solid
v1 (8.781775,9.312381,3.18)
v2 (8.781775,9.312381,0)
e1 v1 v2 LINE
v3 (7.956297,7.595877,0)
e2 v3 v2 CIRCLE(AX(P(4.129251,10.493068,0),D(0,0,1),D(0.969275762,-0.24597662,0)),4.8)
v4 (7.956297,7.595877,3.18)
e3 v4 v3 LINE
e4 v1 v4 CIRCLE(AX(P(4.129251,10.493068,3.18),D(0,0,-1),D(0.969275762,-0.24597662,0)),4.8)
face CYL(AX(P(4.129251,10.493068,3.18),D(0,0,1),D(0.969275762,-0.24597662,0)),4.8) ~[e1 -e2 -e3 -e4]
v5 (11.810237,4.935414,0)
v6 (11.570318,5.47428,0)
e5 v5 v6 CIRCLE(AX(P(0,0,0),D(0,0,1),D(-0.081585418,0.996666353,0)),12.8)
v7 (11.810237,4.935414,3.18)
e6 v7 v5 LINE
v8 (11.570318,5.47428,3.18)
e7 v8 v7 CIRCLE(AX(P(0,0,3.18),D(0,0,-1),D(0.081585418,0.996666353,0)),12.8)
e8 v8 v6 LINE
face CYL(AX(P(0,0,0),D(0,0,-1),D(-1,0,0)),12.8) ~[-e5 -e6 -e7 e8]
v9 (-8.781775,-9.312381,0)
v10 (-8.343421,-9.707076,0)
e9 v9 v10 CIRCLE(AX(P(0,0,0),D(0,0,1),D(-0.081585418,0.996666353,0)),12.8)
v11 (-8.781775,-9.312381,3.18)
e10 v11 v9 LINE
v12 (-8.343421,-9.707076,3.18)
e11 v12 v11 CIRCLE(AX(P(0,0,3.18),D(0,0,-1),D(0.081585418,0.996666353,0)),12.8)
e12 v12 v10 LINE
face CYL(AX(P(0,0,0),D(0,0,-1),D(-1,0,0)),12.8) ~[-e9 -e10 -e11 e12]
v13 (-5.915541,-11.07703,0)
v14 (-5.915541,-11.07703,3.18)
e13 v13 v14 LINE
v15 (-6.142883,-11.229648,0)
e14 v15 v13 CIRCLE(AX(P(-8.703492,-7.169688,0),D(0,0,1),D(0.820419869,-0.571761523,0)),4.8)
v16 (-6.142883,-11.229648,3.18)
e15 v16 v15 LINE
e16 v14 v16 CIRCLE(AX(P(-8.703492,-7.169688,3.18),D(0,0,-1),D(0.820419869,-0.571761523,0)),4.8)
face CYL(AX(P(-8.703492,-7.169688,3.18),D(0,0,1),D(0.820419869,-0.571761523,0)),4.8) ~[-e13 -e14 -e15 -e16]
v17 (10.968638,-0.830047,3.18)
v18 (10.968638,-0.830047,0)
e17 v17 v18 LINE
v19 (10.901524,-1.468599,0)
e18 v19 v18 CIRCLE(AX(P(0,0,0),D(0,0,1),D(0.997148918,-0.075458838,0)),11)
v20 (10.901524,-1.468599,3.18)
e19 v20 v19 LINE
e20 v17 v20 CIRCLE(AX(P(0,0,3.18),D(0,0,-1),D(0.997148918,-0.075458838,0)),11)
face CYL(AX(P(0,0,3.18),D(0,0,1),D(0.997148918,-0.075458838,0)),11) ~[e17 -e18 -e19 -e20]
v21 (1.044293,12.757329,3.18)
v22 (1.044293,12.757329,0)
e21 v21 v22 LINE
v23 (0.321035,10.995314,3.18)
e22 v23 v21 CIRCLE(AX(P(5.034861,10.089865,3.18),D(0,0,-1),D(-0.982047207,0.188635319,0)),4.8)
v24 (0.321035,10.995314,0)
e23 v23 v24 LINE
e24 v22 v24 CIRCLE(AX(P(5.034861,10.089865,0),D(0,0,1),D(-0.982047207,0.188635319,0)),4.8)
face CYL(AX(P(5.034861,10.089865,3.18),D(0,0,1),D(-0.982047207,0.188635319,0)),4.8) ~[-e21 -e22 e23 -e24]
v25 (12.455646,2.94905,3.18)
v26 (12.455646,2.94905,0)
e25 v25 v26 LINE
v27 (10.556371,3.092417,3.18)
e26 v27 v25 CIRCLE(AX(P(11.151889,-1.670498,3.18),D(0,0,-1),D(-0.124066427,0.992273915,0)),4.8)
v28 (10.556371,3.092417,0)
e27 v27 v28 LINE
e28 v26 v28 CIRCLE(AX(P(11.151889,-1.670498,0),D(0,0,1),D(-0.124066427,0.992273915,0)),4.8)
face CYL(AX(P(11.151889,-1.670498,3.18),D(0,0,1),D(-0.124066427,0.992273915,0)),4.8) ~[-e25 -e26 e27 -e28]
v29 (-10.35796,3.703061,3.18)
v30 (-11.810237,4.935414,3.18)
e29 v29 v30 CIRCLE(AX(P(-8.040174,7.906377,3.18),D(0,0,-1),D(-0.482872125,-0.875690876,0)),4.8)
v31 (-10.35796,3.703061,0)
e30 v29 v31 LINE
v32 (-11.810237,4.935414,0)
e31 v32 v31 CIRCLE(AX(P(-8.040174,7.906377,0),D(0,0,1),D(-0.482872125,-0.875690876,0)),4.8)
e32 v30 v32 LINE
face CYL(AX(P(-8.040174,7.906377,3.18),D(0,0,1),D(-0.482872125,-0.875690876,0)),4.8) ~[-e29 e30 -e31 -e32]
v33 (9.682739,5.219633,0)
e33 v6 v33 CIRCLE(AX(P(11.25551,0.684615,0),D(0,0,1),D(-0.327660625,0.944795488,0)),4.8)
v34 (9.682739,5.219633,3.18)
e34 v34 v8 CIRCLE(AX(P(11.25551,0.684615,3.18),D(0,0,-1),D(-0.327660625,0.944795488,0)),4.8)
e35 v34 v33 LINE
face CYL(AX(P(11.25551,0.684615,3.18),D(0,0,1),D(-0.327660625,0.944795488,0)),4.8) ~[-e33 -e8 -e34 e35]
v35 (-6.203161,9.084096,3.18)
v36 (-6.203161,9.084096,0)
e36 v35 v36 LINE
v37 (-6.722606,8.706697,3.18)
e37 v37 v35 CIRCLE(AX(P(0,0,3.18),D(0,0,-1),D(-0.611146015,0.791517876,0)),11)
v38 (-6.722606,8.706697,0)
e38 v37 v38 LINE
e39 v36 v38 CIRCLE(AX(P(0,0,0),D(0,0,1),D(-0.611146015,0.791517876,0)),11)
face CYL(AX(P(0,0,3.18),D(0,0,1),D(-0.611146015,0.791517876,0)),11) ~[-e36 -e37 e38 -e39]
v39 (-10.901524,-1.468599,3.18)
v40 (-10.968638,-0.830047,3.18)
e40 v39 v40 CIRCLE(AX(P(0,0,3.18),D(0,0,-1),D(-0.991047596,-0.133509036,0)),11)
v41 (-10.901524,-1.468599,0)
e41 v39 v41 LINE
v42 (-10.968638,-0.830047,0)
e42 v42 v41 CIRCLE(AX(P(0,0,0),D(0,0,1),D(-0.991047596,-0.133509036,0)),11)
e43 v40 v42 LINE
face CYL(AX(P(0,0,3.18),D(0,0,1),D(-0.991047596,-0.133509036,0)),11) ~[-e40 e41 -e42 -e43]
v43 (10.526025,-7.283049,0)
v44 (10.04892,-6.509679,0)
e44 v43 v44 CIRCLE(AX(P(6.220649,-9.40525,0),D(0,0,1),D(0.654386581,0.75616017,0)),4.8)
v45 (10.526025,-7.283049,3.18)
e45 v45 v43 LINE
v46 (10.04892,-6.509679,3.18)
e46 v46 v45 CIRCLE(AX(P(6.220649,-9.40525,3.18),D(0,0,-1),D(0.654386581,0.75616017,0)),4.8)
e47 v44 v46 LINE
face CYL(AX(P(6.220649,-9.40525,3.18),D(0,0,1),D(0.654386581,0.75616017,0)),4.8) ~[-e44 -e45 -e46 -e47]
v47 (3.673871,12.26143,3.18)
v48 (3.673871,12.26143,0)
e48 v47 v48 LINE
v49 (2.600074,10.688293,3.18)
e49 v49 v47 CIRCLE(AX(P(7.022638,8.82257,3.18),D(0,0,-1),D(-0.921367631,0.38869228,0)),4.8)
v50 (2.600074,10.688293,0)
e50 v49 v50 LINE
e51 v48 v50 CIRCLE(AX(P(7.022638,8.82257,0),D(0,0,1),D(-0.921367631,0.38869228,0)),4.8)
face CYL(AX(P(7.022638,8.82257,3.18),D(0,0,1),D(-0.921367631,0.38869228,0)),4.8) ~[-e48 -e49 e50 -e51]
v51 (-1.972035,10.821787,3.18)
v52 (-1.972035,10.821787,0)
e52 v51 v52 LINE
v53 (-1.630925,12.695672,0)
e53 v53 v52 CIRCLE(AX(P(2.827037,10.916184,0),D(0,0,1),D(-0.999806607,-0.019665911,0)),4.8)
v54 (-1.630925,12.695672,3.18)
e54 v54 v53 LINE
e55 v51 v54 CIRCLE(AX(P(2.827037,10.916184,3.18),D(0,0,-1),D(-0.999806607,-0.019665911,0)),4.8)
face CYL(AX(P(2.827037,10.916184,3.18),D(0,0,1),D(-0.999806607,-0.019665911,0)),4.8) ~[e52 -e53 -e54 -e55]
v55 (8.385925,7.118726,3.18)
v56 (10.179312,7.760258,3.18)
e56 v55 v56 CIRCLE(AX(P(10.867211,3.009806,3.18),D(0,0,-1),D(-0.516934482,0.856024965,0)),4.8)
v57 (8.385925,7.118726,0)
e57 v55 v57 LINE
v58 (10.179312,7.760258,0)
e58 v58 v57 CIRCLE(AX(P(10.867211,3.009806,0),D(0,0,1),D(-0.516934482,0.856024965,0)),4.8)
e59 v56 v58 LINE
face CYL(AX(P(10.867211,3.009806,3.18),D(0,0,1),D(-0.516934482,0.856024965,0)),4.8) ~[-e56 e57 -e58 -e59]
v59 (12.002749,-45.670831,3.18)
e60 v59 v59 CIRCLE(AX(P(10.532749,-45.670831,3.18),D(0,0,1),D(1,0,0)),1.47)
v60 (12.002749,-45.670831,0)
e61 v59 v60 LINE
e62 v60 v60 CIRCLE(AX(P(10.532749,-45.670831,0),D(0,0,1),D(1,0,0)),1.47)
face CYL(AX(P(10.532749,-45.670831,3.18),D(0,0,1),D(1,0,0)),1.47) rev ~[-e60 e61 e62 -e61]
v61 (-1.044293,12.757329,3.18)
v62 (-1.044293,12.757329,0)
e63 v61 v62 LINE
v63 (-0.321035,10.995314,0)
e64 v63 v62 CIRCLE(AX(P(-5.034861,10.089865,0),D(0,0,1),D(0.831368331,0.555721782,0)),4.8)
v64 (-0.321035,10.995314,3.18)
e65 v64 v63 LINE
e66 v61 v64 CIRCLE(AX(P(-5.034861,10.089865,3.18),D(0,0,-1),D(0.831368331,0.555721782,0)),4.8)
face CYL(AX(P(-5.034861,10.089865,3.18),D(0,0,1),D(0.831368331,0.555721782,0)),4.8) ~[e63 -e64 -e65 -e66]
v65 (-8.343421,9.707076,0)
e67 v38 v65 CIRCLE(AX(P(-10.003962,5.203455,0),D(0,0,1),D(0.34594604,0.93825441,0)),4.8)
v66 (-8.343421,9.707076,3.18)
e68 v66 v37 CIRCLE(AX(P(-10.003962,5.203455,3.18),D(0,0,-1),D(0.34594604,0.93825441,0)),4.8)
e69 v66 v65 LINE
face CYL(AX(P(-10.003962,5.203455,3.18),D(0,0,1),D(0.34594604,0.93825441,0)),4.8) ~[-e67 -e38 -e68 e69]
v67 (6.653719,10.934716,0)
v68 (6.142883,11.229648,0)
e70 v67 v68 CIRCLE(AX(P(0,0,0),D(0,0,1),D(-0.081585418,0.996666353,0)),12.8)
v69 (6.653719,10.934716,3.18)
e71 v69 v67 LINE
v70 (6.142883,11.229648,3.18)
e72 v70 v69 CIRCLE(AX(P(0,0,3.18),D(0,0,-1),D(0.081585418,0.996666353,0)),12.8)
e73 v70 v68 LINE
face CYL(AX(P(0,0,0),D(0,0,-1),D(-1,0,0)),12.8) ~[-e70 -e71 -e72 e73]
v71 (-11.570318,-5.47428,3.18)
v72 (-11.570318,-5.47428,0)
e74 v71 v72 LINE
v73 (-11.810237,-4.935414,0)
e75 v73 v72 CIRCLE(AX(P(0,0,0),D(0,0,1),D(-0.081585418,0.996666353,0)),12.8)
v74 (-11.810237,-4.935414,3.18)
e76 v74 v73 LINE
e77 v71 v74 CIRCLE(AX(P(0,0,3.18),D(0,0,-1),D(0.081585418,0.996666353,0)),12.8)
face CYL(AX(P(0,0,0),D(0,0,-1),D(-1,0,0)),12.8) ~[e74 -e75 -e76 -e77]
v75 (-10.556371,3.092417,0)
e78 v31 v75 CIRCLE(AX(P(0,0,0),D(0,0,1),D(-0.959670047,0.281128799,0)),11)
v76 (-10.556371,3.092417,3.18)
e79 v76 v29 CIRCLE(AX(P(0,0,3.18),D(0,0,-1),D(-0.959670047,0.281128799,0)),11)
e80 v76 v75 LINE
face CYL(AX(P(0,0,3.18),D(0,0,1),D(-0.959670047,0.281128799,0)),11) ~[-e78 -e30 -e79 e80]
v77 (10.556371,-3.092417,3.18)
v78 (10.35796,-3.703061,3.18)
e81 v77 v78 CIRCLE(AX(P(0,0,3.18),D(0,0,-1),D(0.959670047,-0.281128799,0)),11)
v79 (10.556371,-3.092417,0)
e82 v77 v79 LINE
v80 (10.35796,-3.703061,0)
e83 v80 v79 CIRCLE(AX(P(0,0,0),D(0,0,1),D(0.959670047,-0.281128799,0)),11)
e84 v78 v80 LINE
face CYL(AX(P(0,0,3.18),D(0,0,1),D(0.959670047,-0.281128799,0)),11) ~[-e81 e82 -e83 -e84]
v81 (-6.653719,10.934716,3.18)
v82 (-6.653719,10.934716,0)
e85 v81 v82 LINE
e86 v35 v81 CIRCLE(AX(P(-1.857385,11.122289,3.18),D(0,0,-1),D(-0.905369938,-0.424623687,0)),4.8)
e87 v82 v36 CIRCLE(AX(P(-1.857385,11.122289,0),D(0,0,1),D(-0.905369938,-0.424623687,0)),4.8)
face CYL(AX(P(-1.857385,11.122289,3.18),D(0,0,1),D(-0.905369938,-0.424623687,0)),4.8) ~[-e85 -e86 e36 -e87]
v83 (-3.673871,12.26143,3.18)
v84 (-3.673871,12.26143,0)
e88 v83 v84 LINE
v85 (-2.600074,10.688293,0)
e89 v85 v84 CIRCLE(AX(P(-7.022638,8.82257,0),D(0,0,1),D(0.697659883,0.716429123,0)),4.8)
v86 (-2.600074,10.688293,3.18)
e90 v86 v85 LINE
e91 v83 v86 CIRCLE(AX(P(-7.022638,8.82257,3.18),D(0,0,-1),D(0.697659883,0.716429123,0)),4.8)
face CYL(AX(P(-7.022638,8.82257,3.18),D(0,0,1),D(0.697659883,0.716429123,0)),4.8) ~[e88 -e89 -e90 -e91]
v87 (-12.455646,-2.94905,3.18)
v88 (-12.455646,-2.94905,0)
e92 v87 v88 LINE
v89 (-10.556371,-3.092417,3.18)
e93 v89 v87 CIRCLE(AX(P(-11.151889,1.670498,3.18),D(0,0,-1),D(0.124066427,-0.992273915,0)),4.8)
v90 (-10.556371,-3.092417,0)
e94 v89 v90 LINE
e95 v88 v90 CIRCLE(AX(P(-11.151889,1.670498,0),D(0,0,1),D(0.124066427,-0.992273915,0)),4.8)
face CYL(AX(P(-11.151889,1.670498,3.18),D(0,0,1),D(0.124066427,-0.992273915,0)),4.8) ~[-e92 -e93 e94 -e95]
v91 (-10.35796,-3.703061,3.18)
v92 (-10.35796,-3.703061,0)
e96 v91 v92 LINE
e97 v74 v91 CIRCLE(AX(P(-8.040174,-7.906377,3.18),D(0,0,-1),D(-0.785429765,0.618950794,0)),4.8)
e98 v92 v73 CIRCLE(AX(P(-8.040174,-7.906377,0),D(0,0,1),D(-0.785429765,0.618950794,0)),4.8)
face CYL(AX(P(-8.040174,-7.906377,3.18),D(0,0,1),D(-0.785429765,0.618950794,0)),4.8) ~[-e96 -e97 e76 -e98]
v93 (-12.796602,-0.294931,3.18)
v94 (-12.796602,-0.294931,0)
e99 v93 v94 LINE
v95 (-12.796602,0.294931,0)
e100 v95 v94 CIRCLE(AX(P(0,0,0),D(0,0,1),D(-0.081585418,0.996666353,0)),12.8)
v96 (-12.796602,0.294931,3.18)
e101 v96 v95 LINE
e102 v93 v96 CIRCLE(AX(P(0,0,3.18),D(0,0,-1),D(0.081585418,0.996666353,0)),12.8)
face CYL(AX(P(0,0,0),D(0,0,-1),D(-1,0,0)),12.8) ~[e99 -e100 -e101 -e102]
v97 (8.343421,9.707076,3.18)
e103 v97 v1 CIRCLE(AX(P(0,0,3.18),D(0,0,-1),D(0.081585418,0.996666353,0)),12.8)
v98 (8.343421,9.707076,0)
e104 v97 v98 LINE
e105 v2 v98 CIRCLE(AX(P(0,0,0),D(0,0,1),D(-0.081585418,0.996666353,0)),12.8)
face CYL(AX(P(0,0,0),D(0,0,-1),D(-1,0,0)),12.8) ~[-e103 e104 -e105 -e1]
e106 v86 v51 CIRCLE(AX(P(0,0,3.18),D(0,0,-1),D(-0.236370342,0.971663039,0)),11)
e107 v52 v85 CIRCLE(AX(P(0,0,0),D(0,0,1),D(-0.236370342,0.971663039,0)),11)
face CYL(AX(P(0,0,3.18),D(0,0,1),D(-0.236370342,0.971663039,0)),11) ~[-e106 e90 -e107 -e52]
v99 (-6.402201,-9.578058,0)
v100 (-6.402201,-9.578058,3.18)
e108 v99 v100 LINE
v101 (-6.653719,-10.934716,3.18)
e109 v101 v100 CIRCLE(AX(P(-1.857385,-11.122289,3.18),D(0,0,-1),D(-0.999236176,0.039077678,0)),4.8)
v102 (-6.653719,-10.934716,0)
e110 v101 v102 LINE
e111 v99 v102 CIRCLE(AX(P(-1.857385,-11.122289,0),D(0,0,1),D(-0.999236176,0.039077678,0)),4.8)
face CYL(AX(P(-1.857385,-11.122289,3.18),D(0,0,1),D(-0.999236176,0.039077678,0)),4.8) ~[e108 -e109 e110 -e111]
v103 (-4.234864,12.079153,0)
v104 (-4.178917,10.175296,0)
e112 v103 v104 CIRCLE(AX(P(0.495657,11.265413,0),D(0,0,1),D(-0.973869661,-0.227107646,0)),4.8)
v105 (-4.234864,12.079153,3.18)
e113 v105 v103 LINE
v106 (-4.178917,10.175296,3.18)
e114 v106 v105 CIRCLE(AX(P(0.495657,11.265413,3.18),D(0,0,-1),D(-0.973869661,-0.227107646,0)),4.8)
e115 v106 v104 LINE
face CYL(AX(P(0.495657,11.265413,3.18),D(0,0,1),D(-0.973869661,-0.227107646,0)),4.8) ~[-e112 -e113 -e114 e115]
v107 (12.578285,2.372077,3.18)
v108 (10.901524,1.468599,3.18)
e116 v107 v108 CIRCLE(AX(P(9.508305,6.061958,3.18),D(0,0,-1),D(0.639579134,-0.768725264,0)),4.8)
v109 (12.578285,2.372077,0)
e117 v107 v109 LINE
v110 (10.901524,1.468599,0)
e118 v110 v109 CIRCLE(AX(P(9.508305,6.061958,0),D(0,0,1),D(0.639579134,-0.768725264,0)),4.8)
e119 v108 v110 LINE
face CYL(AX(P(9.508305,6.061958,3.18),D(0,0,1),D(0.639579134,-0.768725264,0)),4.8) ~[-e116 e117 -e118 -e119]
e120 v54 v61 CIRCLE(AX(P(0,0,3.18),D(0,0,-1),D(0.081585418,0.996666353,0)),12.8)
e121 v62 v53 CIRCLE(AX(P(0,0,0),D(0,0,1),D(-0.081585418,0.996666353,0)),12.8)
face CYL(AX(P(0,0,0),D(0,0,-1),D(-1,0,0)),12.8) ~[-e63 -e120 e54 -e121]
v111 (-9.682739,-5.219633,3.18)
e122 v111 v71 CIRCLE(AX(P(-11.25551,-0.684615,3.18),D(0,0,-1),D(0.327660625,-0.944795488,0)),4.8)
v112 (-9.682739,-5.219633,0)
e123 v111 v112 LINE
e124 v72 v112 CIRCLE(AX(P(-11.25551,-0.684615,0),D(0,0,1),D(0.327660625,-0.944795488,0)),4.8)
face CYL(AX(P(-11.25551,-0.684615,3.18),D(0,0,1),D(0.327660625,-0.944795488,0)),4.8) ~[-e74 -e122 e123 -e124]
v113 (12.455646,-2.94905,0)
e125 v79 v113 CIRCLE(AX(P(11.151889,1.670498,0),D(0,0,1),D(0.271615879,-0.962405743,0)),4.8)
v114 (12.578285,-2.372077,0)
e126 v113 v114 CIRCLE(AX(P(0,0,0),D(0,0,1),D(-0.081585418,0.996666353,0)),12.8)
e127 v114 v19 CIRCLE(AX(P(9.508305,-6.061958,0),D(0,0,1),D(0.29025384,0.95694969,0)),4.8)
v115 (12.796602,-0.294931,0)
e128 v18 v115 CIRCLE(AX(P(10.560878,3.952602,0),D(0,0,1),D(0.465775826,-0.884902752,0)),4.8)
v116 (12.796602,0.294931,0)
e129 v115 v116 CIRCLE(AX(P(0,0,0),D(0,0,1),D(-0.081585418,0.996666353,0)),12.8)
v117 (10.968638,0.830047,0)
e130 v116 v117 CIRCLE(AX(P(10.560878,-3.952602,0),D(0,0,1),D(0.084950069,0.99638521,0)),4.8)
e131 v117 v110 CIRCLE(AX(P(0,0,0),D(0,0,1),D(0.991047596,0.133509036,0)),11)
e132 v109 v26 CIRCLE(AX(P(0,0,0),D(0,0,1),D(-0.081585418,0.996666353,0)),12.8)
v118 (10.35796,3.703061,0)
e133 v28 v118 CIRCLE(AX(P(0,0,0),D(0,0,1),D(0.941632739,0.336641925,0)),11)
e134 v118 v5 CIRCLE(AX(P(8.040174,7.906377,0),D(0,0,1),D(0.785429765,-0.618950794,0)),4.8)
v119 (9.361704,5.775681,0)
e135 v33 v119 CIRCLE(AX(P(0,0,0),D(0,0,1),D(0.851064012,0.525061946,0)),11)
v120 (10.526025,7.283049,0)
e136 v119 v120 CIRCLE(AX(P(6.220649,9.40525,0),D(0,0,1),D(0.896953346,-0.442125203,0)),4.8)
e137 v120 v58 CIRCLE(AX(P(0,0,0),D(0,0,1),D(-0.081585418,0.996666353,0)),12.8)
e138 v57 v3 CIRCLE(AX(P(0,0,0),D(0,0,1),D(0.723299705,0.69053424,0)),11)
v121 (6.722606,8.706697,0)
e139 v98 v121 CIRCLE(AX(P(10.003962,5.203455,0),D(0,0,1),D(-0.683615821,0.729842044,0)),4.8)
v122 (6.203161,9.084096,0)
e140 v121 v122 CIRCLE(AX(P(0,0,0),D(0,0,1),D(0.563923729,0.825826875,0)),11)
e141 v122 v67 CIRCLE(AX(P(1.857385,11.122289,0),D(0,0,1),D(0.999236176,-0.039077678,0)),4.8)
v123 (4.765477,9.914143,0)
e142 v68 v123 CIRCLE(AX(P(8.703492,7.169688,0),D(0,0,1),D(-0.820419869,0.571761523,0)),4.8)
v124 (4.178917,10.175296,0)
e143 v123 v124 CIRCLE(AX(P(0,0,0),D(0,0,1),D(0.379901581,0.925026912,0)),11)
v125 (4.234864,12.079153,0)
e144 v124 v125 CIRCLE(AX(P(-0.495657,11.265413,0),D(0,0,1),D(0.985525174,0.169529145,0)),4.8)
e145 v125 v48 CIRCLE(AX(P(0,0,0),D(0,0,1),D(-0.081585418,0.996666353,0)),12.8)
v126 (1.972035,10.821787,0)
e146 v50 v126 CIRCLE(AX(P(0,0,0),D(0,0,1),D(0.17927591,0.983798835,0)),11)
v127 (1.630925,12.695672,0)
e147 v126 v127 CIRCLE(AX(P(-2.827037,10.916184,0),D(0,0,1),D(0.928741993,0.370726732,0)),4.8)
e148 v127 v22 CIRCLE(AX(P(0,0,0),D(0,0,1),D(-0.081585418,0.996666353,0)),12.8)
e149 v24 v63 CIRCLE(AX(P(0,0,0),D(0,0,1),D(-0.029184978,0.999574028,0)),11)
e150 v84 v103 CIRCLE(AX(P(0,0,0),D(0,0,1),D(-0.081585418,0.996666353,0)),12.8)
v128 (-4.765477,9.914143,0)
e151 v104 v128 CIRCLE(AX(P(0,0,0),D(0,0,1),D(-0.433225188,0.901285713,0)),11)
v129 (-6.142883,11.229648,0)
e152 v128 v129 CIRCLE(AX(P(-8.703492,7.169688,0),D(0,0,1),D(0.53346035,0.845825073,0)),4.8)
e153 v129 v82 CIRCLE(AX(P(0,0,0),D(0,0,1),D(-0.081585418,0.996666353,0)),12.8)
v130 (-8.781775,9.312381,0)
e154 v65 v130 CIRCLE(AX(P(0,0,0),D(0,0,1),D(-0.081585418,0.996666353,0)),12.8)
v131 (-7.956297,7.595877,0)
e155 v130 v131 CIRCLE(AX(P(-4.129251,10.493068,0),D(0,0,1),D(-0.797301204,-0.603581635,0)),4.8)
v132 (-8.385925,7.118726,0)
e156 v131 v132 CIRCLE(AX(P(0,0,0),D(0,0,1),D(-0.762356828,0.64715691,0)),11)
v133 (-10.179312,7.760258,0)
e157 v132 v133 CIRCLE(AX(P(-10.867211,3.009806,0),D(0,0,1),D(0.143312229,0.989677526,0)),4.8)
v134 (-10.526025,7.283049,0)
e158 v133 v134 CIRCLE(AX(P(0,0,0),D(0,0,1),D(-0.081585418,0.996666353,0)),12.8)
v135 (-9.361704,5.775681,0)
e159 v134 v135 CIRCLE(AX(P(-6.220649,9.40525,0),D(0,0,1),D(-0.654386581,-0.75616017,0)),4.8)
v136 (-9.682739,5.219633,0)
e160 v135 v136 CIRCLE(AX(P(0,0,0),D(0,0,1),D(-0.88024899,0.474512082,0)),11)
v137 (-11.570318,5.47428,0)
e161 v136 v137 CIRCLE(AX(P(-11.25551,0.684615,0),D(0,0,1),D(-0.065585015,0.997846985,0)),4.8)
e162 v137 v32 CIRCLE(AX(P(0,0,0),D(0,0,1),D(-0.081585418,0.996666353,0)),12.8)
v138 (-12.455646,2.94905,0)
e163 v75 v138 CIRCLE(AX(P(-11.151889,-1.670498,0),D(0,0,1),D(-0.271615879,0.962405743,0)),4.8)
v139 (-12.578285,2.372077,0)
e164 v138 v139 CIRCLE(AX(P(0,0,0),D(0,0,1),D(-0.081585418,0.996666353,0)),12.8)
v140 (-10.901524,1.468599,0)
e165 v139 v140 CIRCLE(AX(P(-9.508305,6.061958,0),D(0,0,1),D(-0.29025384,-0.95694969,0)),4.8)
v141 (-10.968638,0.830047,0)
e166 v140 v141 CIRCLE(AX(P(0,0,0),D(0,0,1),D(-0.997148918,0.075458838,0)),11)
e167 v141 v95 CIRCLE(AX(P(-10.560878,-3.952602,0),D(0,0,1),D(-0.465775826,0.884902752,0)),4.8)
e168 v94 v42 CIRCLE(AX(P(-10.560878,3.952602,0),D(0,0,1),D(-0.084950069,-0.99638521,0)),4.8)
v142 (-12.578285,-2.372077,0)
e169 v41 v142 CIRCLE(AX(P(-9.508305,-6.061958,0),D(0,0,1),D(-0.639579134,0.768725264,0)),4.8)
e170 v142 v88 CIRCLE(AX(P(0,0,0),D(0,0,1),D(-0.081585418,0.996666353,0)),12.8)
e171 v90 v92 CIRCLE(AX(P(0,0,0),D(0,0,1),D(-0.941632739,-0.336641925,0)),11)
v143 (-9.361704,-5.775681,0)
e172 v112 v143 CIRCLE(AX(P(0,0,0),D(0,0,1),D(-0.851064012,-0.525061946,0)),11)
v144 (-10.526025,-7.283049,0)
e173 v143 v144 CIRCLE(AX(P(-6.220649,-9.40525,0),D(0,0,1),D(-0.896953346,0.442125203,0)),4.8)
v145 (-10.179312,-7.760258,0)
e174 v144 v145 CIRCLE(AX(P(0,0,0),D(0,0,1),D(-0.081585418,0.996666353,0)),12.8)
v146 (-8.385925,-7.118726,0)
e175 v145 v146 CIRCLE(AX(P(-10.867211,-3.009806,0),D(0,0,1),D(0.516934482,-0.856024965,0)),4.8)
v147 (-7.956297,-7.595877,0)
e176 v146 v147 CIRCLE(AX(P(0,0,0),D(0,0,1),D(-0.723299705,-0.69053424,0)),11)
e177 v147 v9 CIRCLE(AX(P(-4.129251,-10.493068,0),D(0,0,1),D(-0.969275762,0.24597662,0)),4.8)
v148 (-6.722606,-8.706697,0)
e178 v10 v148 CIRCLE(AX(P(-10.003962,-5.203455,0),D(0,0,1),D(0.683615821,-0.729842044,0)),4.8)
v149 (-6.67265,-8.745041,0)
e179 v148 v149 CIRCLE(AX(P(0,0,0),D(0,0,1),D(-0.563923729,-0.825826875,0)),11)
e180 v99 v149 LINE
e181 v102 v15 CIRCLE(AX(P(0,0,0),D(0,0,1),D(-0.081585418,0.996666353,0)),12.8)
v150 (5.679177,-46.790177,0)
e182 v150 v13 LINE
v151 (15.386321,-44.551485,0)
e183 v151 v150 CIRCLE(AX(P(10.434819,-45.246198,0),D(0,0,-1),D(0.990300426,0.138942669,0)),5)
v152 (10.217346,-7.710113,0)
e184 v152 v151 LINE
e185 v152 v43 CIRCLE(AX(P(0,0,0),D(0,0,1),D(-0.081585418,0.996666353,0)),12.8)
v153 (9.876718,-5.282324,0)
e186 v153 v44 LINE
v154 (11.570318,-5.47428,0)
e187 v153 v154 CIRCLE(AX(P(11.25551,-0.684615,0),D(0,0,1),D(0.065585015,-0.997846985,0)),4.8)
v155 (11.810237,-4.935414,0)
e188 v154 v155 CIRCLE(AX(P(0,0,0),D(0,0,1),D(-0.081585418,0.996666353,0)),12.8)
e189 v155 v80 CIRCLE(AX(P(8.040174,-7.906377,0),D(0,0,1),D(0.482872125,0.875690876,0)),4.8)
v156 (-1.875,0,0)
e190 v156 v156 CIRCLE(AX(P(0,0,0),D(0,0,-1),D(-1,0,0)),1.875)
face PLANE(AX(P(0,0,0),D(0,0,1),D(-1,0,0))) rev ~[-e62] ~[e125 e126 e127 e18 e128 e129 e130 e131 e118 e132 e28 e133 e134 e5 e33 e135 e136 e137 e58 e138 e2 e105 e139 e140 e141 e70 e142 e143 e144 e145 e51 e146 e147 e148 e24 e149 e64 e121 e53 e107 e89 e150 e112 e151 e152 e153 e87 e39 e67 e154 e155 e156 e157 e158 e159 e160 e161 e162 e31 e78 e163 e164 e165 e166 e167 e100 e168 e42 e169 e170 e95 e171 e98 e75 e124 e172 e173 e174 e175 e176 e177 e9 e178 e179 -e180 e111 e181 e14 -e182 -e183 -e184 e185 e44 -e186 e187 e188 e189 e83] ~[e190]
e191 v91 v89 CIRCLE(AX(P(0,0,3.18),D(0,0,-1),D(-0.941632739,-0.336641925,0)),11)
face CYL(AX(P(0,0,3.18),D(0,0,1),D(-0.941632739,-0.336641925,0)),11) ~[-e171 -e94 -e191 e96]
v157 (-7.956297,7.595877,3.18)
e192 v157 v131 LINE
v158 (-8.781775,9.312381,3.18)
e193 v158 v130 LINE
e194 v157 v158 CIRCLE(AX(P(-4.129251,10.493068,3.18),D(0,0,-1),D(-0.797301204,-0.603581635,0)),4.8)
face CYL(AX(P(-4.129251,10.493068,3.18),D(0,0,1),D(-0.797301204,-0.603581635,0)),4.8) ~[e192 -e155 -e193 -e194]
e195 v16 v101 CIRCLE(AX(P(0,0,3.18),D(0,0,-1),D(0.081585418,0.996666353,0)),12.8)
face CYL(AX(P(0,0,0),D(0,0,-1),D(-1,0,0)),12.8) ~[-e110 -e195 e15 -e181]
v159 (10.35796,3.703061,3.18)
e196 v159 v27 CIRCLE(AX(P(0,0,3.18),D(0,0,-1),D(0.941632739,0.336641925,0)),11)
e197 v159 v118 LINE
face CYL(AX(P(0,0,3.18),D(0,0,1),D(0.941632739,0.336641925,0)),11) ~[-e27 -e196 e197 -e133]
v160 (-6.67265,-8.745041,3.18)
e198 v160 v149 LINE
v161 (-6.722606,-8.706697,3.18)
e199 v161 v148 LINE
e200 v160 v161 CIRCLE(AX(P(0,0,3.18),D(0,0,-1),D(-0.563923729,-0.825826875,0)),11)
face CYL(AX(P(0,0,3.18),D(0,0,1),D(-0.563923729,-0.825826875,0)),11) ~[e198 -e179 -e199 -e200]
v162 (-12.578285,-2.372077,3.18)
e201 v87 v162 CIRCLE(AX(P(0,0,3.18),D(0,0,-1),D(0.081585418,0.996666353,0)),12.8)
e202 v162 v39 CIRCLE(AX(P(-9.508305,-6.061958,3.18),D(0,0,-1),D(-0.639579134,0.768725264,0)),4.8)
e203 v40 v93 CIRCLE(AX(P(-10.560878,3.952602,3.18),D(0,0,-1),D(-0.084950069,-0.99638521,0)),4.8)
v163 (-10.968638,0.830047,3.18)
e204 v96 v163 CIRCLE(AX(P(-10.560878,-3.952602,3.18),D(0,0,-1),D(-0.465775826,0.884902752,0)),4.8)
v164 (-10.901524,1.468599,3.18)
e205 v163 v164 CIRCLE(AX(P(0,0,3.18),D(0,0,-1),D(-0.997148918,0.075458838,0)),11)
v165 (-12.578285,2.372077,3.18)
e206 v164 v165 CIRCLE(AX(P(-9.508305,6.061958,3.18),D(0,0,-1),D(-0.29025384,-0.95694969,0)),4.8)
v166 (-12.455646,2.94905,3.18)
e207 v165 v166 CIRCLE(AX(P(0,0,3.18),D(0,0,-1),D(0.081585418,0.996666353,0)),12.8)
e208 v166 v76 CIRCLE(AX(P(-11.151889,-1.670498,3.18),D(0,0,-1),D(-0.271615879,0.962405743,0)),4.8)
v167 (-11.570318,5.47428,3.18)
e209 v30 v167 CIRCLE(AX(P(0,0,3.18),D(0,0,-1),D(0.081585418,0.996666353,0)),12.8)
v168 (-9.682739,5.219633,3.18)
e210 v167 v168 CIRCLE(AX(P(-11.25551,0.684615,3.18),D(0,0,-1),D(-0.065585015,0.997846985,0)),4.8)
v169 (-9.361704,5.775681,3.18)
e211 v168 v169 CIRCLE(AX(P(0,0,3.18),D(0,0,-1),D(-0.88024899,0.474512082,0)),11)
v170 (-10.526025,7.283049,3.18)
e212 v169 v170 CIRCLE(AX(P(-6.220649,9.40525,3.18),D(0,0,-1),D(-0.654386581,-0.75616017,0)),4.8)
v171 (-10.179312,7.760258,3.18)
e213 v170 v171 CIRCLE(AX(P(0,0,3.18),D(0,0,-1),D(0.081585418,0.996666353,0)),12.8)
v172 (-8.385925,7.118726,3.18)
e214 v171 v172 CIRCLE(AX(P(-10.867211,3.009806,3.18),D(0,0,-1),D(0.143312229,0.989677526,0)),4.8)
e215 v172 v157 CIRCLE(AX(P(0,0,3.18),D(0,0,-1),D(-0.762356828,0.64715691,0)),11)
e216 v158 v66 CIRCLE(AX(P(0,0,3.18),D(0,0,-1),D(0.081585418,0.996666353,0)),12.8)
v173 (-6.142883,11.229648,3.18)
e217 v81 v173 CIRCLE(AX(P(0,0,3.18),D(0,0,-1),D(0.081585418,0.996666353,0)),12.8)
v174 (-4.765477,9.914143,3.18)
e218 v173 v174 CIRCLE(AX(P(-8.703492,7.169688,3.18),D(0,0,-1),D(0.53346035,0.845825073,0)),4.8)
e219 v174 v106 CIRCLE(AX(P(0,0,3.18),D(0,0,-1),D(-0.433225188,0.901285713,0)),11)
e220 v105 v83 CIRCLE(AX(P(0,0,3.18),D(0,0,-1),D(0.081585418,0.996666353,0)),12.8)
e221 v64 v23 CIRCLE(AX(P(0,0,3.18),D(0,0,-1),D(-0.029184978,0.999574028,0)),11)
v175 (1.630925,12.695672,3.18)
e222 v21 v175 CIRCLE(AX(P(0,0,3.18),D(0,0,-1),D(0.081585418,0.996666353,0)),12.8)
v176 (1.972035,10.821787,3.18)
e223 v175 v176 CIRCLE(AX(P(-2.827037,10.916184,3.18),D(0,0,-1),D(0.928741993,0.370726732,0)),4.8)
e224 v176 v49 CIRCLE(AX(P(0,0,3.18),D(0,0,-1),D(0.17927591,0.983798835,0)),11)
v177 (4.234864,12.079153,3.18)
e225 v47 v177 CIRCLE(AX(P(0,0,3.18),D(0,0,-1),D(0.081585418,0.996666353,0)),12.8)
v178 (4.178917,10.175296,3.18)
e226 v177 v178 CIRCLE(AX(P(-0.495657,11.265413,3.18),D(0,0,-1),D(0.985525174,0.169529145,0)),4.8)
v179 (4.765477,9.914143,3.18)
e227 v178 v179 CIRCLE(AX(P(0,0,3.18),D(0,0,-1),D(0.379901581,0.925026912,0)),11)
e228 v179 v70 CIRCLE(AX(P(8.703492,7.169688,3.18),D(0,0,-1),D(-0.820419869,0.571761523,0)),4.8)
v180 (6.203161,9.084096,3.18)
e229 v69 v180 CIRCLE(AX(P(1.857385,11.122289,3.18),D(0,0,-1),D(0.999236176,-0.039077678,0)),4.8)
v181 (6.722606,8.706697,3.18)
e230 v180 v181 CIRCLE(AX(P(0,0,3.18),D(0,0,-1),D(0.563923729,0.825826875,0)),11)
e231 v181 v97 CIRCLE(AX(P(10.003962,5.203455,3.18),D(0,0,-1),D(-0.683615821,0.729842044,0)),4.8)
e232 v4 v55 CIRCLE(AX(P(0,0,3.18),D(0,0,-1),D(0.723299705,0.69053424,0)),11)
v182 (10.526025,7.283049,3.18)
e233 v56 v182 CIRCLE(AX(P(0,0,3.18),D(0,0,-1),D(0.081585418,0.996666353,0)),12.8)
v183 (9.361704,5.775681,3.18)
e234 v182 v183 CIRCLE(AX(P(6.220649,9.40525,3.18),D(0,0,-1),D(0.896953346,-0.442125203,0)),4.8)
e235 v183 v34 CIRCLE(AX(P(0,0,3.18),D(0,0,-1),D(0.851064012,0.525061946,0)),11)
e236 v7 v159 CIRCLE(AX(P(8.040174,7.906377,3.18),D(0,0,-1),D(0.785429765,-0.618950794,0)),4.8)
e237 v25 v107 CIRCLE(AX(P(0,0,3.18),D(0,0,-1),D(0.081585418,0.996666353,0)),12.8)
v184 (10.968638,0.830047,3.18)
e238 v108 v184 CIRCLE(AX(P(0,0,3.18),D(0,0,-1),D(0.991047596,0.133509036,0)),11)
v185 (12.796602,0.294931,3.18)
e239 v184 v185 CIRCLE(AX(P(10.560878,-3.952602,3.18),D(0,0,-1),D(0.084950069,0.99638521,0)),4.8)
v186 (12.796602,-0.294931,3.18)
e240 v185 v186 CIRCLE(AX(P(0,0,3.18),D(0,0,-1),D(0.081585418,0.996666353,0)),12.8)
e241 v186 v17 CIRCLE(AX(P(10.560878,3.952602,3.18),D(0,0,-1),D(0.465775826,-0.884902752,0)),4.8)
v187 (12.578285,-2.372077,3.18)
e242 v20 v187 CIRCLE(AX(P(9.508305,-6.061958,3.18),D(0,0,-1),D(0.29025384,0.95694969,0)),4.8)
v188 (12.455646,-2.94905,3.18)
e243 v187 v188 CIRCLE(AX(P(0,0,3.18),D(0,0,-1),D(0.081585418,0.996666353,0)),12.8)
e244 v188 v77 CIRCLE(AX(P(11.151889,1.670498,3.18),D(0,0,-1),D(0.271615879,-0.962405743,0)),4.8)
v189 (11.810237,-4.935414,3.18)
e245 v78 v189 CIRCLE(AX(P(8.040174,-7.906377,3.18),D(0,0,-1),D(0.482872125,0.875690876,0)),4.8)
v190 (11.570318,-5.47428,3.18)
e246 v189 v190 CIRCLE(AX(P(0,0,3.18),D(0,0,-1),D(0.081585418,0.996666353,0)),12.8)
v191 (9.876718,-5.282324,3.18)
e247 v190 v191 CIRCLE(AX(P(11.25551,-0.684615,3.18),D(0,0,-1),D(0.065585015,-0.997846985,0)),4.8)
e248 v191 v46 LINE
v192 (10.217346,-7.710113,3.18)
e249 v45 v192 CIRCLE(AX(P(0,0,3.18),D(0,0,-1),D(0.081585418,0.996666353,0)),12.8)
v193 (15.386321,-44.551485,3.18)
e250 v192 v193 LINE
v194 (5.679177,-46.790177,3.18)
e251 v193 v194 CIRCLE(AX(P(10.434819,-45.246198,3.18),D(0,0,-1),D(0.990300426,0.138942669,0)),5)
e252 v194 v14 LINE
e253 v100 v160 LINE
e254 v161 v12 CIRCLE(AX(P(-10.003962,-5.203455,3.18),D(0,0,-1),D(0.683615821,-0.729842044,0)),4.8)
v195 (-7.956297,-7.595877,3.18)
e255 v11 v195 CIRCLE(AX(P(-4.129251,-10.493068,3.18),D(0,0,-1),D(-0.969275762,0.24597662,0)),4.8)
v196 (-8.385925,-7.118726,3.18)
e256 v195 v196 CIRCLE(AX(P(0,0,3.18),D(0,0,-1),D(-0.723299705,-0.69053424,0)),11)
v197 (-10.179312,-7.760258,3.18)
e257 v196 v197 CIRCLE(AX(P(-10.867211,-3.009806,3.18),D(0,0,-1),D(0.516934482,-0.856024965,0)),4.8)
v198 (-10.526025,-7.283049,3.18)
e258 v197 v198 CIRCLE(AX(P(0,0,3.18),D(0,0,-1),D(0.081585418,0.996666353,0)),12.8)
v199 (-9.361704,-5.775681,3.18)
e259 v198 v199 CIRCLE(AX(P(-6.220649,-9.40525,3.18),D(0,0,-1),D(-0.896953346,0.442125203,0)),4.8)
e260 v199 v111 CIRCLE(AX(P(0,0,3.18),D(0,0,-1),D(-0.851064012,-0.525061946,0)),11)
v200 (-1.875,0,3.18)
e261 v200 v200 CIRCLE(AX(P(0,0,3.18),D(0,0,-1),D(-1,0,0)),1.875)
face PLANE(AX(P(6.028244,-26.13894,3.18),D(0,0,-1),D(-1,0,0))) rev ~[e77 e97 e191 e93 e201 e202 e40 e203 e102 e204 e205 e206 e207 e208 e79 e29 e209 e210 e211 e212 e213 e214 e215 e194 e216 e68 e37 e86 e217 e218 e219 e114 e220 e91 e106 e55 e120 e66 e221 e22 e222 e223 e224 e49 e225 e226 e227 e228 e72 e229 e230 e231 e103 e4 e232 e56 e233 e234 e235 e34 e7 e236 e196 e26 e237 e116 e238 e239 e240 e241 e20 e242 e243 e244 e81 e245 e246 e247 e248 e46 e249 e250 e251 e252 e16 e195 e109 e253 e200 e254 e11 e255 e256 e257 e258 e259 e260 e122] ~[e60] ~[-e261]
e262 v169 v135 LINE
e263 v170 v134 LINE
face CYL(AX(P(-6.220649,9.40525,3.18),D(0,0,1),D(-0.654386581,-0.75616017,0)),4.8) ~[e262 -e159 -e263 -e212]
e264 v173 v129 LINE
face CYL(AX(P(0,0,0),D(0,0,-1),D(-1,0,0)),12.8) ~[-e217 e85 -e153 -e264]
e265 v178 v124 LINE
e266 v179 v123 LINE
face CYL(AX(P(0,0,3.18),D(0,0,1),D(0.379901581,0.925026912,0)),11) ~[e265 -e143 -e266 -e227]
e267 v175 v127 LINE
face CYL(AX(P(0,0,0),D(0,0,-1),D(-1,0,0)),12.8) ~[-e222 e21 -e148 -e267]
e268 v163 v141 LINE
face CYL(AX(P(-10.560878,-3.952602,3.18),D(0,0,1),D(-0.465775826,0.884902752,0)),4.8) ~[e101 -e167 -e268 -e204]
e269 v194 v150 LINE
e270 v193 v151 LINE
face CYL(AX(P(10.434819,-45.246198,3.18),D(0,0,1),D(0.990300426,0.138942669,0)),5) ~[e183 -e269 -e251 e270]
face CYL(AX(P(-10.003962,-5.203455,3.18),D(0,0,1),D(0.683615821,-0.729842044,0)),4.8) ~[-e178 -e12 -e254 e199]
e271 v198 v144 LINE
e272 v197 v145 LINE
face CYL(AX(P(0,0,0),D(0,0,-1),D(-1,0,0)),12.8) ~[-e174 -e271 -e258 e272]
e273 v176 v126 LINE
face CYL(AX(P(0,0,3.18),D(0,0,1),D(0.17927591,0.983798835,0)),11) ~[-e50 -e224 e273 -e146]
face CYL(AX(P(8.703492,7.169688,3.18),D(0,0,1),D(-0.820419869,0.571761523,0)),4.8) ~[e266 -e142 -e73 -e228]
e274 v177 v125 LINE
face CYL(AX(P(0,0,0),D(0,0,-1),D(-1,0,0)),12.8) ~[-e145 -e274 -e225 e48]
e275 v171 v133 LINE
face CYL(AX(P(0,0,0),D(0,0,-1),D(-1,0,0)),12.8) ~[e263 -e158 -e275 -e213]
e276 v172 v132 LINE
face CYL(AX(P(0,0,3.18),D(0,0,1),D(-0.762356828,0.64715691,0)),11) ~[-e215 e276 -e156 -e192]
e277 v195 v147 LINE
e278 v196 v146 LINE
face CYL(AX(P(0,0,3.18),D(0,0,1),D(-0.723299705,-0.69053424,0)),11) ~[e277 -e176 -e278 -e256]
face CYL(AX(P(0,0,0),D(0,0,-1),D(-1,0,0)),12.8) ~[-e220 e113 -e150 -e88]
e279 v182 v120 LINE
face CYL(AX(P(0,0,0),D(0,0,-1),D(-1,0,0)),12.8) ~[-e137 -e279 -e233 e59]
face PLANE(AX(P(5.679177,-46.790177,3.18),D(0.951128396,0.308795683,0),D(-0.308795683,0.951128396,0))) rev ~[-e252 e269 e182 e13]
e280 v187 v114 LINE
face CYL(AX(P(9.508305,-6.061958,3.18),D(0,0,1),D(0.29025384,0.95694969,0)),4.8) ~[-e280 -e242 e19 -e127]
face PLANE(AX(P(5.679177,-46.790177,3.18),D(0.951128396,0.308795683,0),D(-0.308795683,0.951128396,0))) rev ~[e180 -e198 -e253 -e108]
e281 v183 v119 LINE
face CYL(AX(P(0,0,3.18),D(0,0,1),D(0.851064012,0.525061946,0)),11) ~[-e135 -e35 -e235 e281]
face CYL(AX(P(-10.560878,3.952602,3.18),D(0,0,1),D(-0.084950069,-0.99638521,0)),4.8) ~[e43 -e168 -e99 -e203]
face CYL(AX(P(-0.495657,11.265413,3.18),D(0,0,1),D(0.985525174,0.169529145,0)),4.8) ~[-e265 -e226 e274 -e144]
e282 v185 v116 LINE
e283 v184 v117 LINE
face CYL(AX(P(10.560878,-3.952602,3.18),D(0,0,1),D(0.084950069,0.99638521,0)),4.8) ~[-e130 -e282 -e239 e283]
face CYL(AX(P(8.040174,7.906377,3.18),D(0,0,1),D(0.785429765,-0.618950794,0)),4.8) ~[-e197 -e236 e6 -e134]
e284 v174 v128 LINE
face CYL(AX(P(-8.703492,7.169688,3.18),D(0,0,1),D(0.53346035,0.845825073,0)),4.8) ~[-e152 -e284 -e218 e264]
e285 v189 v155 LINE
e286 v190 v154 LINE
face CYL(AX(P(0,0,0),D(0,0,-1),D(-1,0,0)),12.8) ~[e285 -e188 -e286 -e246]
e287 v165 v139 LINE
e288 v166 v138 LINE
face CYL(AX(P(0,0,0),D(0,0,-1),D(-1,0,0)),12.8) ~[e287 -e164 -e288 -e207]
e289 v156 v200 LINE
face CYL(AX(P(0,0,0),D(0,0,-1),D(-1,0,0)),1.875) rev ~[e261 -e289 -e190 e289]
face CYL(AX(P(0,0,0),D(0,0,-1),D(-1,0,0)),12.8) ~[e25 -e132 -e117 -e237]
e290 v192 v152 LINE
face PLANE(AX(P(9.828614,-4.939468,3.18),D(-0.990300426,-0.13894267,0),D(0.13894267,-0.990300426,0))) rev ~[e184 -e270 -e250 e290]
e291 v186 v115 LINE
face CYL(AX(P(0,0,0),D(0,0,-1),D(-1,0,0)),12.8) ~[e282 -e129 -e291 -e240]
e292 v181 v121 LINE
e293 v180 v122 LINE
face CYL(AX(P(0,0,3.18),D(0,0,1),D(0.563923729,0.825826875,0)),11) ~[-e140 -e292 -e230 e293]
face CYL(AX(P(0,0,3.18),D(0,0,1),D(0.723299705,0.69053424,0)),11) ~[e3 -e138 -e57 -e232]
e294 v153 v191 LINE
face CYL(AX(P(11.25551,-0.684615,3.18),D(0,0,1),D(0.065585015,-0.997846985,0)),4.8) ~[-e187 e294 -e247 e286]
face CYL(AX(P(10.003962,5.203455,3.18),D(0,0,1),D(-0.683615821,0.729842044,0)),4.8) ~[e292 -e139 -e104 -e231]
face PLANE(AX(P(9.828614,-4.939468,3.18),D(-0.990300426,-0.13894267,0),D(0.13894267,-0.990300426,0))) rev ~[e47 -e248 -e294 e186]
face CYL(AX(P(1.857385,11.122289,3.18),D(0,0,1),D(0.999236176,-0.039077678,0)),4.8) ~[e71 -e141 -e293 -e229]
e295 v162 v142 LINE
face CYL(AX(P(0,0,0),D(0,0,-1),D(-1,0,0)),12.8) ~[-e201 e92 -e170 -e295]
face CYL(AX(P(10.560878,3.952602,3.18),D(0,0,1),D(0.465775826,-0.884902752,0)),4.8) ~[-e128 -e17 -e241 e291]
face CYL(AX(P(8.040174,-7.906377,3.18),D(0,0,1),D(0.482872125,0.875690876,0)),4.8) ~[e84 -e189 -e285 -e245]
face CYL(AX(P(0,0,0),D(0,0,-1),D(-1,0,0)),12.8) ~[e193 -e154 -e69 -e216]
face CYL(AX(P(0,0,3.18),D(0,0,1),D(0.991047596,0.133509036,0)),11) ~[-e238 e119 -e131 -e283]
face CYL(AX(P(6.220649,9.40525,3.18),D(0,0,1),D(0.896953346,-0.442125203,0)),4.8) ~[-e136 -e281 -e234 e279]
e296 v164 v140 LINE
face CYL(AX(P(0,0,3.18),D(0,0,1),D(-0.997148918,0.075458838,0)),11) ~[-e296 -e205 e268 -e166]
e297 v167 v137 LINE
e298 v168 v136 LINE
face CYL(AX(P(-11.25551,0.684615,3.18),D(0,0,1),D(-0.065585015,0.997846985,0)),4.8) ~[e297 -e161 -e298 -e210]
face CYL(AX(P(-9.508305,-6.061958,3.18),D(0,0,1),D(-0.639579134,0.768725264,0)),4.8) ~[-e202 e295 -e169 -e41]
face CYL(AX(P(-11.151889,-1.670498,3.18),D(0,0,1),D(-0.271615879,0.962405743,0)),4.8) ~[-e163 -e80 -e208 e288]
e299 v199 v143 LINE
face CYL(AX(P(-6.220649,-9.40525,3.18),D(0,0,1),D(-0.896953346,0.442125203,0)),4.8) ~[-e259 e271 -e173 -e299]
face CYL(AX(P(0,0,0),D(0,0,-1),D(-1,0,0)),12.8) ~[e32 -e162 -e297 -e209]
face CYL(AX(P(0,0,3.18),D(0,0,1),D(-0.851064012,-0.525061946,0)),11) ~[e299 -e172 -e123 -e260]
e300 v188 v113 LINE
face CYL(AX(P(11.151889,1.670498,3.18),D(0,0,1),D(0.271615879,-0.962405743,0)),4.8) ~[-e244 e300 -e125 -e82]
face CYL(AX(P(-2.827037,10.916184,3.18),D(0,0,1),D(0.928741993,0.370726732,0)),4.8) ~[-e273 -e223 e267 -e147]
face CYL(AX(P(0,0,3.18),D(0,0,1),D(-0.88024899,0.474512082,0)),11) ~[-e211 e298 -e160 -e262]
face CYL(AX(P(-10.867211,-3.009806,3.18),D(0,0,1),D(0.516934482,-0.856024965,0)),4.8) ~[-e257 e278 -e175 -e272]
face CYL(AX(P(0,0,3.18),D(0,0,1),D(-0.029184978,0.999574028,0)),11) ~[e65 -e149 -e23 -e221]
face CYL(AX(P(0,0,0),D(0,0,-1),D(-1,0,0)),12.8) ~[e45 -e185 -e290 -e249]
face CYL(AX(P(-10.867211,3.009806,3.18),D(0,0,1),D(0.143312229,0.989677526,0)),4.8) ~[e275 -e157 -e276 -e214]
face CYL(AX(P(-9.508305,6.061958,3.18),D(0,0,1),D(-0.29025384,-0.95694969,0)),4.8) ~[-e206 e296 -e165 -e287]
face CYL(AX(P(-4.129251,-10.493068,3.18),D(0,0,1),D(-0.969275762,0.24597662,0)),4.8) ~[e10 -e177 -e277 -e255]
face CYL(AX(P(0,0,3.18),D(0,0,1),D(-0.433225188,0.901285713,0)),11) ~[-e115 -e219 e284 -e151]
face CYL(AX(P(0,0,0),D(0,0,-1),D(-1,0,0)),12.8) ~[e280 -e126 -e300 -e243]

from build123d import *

# Parameters (mm, degrees)
SKETCH1_R           = 12.8
BOSS_EXTRUDE1_DEPTH = 3.18
CUT_EXTRUDE1_DEPTH  = 19.379129468
CIRPATTERN1_COUNT   = 30
SKETCH4_R           = 1.875
CUT_EXTRUDE3_DEPTH  = 19.349437359
BOSS_EXTRUDE2_START = -3.18
BOSS_EXTRUDE2_DEPTH = 3.18
SKETCH7_R           = 1.47
CUT_EXTRUDE4_DEPTH  = 53.659533455


with BuildPart() as part:
    # Sketch1 → Boss-Extrude1 (new body)
    with BuildSketch(Plane.XY):
        with Locations(Location((0, 0, 0), (0, 0, 180))):
            Circle(SKETCH1_R)
    extrude(amount=BOSS_EXTRUDE1_DEPTH)

    # Sketch2 → Cut-Extrude1 (cut, through all)
    with BuildSketch(Plane.XY.offset(3.18)):
        with BuildLine():
            ThreePointArc((-0.321034752, 10.995314306), (0, 11), (0.321034752, 10.995314306))
            ThreePointArc((0.321034752, 10.995314306), (0.594388904, 11.912556329), (1.044293354, 12.75732932))
            ThreePointArc((1.044293354, 12.75732932), (0, 12.8), (-1.044293354, 12.75732932))
            ThreePointArc((-1.044293354, 12.75732932), (-0.594388904, 11.912556329), (-0.321034752, 10.995314306))
        make_face()
    cut_extrude1 = extrude(amount=-CUT_EXTRUDE1_DEPTH, mode=Mode.SUBTRACT)

    # CirPattern1: Cut-Extrude1 ×30 about axis
    cirpattern1_axis = Axis((0, 0, 0), (0, 0, 1))
    for i in range(1, CIRPATTERN1_COUNT):
        add(cut_extrude1.rotate(cirpattern1_axis, i * 360 / CIRPATTERN1_COUNT), mode=Mode.SUBTRACT)

    # Sketch4 → Cut-Extrude3 (cut, through all)
    with BuildSketch(Plane(origin=(0, 0, 0), x_dir=(-1, 0, 0), z_dir=(0, 0, -1))):
        Circle(SKETCH4_R)
    extrude(amount=-CUT_EXTRUDE3_DEPTH, mode=Mode.SUBTRACT)

    # Sketch6 → Boss-Extrude2 (add)
    with BuildSketch(Plane(origin=(0, 0, 0), x_dir=(-1, 0, 0), z_dir=(0, 0, -1)).offset(BOSS_EXTRUDE2_START)):
        with BuildLine():
            Line((-9.828614264, -4.939467749), (-15.386321044, -44.551484806))
            ThreePointArc((-15.386321044, -44.551484806), (-11.558440512, -50.118310067), (-5.67917693, -46.790176566))
            Line((-5.67917693, -46.790176566), (6.672650371, -8.74504071))
            ThreePointArc((6.672650371, -8.74504071), (-2.471967519, -10.71864621), (-9.828614264, -4.939467749))
        make_face()
    extrude(amount=BOSS_EXTRUDE2_DEPTH)

    # Sketch7 → Cut-Extrude4 (cut, through all)
    with BuildSketch(Plane.XY.offset(3.18)):
        with Locations((10.532748987, -45.670830686)):
            Circle(SKETCH7_R)
    extrude(amount=-CUT_EXTRUDE4_DEPTH, mode=Mode.SUBTRACT)


solid = part.part
